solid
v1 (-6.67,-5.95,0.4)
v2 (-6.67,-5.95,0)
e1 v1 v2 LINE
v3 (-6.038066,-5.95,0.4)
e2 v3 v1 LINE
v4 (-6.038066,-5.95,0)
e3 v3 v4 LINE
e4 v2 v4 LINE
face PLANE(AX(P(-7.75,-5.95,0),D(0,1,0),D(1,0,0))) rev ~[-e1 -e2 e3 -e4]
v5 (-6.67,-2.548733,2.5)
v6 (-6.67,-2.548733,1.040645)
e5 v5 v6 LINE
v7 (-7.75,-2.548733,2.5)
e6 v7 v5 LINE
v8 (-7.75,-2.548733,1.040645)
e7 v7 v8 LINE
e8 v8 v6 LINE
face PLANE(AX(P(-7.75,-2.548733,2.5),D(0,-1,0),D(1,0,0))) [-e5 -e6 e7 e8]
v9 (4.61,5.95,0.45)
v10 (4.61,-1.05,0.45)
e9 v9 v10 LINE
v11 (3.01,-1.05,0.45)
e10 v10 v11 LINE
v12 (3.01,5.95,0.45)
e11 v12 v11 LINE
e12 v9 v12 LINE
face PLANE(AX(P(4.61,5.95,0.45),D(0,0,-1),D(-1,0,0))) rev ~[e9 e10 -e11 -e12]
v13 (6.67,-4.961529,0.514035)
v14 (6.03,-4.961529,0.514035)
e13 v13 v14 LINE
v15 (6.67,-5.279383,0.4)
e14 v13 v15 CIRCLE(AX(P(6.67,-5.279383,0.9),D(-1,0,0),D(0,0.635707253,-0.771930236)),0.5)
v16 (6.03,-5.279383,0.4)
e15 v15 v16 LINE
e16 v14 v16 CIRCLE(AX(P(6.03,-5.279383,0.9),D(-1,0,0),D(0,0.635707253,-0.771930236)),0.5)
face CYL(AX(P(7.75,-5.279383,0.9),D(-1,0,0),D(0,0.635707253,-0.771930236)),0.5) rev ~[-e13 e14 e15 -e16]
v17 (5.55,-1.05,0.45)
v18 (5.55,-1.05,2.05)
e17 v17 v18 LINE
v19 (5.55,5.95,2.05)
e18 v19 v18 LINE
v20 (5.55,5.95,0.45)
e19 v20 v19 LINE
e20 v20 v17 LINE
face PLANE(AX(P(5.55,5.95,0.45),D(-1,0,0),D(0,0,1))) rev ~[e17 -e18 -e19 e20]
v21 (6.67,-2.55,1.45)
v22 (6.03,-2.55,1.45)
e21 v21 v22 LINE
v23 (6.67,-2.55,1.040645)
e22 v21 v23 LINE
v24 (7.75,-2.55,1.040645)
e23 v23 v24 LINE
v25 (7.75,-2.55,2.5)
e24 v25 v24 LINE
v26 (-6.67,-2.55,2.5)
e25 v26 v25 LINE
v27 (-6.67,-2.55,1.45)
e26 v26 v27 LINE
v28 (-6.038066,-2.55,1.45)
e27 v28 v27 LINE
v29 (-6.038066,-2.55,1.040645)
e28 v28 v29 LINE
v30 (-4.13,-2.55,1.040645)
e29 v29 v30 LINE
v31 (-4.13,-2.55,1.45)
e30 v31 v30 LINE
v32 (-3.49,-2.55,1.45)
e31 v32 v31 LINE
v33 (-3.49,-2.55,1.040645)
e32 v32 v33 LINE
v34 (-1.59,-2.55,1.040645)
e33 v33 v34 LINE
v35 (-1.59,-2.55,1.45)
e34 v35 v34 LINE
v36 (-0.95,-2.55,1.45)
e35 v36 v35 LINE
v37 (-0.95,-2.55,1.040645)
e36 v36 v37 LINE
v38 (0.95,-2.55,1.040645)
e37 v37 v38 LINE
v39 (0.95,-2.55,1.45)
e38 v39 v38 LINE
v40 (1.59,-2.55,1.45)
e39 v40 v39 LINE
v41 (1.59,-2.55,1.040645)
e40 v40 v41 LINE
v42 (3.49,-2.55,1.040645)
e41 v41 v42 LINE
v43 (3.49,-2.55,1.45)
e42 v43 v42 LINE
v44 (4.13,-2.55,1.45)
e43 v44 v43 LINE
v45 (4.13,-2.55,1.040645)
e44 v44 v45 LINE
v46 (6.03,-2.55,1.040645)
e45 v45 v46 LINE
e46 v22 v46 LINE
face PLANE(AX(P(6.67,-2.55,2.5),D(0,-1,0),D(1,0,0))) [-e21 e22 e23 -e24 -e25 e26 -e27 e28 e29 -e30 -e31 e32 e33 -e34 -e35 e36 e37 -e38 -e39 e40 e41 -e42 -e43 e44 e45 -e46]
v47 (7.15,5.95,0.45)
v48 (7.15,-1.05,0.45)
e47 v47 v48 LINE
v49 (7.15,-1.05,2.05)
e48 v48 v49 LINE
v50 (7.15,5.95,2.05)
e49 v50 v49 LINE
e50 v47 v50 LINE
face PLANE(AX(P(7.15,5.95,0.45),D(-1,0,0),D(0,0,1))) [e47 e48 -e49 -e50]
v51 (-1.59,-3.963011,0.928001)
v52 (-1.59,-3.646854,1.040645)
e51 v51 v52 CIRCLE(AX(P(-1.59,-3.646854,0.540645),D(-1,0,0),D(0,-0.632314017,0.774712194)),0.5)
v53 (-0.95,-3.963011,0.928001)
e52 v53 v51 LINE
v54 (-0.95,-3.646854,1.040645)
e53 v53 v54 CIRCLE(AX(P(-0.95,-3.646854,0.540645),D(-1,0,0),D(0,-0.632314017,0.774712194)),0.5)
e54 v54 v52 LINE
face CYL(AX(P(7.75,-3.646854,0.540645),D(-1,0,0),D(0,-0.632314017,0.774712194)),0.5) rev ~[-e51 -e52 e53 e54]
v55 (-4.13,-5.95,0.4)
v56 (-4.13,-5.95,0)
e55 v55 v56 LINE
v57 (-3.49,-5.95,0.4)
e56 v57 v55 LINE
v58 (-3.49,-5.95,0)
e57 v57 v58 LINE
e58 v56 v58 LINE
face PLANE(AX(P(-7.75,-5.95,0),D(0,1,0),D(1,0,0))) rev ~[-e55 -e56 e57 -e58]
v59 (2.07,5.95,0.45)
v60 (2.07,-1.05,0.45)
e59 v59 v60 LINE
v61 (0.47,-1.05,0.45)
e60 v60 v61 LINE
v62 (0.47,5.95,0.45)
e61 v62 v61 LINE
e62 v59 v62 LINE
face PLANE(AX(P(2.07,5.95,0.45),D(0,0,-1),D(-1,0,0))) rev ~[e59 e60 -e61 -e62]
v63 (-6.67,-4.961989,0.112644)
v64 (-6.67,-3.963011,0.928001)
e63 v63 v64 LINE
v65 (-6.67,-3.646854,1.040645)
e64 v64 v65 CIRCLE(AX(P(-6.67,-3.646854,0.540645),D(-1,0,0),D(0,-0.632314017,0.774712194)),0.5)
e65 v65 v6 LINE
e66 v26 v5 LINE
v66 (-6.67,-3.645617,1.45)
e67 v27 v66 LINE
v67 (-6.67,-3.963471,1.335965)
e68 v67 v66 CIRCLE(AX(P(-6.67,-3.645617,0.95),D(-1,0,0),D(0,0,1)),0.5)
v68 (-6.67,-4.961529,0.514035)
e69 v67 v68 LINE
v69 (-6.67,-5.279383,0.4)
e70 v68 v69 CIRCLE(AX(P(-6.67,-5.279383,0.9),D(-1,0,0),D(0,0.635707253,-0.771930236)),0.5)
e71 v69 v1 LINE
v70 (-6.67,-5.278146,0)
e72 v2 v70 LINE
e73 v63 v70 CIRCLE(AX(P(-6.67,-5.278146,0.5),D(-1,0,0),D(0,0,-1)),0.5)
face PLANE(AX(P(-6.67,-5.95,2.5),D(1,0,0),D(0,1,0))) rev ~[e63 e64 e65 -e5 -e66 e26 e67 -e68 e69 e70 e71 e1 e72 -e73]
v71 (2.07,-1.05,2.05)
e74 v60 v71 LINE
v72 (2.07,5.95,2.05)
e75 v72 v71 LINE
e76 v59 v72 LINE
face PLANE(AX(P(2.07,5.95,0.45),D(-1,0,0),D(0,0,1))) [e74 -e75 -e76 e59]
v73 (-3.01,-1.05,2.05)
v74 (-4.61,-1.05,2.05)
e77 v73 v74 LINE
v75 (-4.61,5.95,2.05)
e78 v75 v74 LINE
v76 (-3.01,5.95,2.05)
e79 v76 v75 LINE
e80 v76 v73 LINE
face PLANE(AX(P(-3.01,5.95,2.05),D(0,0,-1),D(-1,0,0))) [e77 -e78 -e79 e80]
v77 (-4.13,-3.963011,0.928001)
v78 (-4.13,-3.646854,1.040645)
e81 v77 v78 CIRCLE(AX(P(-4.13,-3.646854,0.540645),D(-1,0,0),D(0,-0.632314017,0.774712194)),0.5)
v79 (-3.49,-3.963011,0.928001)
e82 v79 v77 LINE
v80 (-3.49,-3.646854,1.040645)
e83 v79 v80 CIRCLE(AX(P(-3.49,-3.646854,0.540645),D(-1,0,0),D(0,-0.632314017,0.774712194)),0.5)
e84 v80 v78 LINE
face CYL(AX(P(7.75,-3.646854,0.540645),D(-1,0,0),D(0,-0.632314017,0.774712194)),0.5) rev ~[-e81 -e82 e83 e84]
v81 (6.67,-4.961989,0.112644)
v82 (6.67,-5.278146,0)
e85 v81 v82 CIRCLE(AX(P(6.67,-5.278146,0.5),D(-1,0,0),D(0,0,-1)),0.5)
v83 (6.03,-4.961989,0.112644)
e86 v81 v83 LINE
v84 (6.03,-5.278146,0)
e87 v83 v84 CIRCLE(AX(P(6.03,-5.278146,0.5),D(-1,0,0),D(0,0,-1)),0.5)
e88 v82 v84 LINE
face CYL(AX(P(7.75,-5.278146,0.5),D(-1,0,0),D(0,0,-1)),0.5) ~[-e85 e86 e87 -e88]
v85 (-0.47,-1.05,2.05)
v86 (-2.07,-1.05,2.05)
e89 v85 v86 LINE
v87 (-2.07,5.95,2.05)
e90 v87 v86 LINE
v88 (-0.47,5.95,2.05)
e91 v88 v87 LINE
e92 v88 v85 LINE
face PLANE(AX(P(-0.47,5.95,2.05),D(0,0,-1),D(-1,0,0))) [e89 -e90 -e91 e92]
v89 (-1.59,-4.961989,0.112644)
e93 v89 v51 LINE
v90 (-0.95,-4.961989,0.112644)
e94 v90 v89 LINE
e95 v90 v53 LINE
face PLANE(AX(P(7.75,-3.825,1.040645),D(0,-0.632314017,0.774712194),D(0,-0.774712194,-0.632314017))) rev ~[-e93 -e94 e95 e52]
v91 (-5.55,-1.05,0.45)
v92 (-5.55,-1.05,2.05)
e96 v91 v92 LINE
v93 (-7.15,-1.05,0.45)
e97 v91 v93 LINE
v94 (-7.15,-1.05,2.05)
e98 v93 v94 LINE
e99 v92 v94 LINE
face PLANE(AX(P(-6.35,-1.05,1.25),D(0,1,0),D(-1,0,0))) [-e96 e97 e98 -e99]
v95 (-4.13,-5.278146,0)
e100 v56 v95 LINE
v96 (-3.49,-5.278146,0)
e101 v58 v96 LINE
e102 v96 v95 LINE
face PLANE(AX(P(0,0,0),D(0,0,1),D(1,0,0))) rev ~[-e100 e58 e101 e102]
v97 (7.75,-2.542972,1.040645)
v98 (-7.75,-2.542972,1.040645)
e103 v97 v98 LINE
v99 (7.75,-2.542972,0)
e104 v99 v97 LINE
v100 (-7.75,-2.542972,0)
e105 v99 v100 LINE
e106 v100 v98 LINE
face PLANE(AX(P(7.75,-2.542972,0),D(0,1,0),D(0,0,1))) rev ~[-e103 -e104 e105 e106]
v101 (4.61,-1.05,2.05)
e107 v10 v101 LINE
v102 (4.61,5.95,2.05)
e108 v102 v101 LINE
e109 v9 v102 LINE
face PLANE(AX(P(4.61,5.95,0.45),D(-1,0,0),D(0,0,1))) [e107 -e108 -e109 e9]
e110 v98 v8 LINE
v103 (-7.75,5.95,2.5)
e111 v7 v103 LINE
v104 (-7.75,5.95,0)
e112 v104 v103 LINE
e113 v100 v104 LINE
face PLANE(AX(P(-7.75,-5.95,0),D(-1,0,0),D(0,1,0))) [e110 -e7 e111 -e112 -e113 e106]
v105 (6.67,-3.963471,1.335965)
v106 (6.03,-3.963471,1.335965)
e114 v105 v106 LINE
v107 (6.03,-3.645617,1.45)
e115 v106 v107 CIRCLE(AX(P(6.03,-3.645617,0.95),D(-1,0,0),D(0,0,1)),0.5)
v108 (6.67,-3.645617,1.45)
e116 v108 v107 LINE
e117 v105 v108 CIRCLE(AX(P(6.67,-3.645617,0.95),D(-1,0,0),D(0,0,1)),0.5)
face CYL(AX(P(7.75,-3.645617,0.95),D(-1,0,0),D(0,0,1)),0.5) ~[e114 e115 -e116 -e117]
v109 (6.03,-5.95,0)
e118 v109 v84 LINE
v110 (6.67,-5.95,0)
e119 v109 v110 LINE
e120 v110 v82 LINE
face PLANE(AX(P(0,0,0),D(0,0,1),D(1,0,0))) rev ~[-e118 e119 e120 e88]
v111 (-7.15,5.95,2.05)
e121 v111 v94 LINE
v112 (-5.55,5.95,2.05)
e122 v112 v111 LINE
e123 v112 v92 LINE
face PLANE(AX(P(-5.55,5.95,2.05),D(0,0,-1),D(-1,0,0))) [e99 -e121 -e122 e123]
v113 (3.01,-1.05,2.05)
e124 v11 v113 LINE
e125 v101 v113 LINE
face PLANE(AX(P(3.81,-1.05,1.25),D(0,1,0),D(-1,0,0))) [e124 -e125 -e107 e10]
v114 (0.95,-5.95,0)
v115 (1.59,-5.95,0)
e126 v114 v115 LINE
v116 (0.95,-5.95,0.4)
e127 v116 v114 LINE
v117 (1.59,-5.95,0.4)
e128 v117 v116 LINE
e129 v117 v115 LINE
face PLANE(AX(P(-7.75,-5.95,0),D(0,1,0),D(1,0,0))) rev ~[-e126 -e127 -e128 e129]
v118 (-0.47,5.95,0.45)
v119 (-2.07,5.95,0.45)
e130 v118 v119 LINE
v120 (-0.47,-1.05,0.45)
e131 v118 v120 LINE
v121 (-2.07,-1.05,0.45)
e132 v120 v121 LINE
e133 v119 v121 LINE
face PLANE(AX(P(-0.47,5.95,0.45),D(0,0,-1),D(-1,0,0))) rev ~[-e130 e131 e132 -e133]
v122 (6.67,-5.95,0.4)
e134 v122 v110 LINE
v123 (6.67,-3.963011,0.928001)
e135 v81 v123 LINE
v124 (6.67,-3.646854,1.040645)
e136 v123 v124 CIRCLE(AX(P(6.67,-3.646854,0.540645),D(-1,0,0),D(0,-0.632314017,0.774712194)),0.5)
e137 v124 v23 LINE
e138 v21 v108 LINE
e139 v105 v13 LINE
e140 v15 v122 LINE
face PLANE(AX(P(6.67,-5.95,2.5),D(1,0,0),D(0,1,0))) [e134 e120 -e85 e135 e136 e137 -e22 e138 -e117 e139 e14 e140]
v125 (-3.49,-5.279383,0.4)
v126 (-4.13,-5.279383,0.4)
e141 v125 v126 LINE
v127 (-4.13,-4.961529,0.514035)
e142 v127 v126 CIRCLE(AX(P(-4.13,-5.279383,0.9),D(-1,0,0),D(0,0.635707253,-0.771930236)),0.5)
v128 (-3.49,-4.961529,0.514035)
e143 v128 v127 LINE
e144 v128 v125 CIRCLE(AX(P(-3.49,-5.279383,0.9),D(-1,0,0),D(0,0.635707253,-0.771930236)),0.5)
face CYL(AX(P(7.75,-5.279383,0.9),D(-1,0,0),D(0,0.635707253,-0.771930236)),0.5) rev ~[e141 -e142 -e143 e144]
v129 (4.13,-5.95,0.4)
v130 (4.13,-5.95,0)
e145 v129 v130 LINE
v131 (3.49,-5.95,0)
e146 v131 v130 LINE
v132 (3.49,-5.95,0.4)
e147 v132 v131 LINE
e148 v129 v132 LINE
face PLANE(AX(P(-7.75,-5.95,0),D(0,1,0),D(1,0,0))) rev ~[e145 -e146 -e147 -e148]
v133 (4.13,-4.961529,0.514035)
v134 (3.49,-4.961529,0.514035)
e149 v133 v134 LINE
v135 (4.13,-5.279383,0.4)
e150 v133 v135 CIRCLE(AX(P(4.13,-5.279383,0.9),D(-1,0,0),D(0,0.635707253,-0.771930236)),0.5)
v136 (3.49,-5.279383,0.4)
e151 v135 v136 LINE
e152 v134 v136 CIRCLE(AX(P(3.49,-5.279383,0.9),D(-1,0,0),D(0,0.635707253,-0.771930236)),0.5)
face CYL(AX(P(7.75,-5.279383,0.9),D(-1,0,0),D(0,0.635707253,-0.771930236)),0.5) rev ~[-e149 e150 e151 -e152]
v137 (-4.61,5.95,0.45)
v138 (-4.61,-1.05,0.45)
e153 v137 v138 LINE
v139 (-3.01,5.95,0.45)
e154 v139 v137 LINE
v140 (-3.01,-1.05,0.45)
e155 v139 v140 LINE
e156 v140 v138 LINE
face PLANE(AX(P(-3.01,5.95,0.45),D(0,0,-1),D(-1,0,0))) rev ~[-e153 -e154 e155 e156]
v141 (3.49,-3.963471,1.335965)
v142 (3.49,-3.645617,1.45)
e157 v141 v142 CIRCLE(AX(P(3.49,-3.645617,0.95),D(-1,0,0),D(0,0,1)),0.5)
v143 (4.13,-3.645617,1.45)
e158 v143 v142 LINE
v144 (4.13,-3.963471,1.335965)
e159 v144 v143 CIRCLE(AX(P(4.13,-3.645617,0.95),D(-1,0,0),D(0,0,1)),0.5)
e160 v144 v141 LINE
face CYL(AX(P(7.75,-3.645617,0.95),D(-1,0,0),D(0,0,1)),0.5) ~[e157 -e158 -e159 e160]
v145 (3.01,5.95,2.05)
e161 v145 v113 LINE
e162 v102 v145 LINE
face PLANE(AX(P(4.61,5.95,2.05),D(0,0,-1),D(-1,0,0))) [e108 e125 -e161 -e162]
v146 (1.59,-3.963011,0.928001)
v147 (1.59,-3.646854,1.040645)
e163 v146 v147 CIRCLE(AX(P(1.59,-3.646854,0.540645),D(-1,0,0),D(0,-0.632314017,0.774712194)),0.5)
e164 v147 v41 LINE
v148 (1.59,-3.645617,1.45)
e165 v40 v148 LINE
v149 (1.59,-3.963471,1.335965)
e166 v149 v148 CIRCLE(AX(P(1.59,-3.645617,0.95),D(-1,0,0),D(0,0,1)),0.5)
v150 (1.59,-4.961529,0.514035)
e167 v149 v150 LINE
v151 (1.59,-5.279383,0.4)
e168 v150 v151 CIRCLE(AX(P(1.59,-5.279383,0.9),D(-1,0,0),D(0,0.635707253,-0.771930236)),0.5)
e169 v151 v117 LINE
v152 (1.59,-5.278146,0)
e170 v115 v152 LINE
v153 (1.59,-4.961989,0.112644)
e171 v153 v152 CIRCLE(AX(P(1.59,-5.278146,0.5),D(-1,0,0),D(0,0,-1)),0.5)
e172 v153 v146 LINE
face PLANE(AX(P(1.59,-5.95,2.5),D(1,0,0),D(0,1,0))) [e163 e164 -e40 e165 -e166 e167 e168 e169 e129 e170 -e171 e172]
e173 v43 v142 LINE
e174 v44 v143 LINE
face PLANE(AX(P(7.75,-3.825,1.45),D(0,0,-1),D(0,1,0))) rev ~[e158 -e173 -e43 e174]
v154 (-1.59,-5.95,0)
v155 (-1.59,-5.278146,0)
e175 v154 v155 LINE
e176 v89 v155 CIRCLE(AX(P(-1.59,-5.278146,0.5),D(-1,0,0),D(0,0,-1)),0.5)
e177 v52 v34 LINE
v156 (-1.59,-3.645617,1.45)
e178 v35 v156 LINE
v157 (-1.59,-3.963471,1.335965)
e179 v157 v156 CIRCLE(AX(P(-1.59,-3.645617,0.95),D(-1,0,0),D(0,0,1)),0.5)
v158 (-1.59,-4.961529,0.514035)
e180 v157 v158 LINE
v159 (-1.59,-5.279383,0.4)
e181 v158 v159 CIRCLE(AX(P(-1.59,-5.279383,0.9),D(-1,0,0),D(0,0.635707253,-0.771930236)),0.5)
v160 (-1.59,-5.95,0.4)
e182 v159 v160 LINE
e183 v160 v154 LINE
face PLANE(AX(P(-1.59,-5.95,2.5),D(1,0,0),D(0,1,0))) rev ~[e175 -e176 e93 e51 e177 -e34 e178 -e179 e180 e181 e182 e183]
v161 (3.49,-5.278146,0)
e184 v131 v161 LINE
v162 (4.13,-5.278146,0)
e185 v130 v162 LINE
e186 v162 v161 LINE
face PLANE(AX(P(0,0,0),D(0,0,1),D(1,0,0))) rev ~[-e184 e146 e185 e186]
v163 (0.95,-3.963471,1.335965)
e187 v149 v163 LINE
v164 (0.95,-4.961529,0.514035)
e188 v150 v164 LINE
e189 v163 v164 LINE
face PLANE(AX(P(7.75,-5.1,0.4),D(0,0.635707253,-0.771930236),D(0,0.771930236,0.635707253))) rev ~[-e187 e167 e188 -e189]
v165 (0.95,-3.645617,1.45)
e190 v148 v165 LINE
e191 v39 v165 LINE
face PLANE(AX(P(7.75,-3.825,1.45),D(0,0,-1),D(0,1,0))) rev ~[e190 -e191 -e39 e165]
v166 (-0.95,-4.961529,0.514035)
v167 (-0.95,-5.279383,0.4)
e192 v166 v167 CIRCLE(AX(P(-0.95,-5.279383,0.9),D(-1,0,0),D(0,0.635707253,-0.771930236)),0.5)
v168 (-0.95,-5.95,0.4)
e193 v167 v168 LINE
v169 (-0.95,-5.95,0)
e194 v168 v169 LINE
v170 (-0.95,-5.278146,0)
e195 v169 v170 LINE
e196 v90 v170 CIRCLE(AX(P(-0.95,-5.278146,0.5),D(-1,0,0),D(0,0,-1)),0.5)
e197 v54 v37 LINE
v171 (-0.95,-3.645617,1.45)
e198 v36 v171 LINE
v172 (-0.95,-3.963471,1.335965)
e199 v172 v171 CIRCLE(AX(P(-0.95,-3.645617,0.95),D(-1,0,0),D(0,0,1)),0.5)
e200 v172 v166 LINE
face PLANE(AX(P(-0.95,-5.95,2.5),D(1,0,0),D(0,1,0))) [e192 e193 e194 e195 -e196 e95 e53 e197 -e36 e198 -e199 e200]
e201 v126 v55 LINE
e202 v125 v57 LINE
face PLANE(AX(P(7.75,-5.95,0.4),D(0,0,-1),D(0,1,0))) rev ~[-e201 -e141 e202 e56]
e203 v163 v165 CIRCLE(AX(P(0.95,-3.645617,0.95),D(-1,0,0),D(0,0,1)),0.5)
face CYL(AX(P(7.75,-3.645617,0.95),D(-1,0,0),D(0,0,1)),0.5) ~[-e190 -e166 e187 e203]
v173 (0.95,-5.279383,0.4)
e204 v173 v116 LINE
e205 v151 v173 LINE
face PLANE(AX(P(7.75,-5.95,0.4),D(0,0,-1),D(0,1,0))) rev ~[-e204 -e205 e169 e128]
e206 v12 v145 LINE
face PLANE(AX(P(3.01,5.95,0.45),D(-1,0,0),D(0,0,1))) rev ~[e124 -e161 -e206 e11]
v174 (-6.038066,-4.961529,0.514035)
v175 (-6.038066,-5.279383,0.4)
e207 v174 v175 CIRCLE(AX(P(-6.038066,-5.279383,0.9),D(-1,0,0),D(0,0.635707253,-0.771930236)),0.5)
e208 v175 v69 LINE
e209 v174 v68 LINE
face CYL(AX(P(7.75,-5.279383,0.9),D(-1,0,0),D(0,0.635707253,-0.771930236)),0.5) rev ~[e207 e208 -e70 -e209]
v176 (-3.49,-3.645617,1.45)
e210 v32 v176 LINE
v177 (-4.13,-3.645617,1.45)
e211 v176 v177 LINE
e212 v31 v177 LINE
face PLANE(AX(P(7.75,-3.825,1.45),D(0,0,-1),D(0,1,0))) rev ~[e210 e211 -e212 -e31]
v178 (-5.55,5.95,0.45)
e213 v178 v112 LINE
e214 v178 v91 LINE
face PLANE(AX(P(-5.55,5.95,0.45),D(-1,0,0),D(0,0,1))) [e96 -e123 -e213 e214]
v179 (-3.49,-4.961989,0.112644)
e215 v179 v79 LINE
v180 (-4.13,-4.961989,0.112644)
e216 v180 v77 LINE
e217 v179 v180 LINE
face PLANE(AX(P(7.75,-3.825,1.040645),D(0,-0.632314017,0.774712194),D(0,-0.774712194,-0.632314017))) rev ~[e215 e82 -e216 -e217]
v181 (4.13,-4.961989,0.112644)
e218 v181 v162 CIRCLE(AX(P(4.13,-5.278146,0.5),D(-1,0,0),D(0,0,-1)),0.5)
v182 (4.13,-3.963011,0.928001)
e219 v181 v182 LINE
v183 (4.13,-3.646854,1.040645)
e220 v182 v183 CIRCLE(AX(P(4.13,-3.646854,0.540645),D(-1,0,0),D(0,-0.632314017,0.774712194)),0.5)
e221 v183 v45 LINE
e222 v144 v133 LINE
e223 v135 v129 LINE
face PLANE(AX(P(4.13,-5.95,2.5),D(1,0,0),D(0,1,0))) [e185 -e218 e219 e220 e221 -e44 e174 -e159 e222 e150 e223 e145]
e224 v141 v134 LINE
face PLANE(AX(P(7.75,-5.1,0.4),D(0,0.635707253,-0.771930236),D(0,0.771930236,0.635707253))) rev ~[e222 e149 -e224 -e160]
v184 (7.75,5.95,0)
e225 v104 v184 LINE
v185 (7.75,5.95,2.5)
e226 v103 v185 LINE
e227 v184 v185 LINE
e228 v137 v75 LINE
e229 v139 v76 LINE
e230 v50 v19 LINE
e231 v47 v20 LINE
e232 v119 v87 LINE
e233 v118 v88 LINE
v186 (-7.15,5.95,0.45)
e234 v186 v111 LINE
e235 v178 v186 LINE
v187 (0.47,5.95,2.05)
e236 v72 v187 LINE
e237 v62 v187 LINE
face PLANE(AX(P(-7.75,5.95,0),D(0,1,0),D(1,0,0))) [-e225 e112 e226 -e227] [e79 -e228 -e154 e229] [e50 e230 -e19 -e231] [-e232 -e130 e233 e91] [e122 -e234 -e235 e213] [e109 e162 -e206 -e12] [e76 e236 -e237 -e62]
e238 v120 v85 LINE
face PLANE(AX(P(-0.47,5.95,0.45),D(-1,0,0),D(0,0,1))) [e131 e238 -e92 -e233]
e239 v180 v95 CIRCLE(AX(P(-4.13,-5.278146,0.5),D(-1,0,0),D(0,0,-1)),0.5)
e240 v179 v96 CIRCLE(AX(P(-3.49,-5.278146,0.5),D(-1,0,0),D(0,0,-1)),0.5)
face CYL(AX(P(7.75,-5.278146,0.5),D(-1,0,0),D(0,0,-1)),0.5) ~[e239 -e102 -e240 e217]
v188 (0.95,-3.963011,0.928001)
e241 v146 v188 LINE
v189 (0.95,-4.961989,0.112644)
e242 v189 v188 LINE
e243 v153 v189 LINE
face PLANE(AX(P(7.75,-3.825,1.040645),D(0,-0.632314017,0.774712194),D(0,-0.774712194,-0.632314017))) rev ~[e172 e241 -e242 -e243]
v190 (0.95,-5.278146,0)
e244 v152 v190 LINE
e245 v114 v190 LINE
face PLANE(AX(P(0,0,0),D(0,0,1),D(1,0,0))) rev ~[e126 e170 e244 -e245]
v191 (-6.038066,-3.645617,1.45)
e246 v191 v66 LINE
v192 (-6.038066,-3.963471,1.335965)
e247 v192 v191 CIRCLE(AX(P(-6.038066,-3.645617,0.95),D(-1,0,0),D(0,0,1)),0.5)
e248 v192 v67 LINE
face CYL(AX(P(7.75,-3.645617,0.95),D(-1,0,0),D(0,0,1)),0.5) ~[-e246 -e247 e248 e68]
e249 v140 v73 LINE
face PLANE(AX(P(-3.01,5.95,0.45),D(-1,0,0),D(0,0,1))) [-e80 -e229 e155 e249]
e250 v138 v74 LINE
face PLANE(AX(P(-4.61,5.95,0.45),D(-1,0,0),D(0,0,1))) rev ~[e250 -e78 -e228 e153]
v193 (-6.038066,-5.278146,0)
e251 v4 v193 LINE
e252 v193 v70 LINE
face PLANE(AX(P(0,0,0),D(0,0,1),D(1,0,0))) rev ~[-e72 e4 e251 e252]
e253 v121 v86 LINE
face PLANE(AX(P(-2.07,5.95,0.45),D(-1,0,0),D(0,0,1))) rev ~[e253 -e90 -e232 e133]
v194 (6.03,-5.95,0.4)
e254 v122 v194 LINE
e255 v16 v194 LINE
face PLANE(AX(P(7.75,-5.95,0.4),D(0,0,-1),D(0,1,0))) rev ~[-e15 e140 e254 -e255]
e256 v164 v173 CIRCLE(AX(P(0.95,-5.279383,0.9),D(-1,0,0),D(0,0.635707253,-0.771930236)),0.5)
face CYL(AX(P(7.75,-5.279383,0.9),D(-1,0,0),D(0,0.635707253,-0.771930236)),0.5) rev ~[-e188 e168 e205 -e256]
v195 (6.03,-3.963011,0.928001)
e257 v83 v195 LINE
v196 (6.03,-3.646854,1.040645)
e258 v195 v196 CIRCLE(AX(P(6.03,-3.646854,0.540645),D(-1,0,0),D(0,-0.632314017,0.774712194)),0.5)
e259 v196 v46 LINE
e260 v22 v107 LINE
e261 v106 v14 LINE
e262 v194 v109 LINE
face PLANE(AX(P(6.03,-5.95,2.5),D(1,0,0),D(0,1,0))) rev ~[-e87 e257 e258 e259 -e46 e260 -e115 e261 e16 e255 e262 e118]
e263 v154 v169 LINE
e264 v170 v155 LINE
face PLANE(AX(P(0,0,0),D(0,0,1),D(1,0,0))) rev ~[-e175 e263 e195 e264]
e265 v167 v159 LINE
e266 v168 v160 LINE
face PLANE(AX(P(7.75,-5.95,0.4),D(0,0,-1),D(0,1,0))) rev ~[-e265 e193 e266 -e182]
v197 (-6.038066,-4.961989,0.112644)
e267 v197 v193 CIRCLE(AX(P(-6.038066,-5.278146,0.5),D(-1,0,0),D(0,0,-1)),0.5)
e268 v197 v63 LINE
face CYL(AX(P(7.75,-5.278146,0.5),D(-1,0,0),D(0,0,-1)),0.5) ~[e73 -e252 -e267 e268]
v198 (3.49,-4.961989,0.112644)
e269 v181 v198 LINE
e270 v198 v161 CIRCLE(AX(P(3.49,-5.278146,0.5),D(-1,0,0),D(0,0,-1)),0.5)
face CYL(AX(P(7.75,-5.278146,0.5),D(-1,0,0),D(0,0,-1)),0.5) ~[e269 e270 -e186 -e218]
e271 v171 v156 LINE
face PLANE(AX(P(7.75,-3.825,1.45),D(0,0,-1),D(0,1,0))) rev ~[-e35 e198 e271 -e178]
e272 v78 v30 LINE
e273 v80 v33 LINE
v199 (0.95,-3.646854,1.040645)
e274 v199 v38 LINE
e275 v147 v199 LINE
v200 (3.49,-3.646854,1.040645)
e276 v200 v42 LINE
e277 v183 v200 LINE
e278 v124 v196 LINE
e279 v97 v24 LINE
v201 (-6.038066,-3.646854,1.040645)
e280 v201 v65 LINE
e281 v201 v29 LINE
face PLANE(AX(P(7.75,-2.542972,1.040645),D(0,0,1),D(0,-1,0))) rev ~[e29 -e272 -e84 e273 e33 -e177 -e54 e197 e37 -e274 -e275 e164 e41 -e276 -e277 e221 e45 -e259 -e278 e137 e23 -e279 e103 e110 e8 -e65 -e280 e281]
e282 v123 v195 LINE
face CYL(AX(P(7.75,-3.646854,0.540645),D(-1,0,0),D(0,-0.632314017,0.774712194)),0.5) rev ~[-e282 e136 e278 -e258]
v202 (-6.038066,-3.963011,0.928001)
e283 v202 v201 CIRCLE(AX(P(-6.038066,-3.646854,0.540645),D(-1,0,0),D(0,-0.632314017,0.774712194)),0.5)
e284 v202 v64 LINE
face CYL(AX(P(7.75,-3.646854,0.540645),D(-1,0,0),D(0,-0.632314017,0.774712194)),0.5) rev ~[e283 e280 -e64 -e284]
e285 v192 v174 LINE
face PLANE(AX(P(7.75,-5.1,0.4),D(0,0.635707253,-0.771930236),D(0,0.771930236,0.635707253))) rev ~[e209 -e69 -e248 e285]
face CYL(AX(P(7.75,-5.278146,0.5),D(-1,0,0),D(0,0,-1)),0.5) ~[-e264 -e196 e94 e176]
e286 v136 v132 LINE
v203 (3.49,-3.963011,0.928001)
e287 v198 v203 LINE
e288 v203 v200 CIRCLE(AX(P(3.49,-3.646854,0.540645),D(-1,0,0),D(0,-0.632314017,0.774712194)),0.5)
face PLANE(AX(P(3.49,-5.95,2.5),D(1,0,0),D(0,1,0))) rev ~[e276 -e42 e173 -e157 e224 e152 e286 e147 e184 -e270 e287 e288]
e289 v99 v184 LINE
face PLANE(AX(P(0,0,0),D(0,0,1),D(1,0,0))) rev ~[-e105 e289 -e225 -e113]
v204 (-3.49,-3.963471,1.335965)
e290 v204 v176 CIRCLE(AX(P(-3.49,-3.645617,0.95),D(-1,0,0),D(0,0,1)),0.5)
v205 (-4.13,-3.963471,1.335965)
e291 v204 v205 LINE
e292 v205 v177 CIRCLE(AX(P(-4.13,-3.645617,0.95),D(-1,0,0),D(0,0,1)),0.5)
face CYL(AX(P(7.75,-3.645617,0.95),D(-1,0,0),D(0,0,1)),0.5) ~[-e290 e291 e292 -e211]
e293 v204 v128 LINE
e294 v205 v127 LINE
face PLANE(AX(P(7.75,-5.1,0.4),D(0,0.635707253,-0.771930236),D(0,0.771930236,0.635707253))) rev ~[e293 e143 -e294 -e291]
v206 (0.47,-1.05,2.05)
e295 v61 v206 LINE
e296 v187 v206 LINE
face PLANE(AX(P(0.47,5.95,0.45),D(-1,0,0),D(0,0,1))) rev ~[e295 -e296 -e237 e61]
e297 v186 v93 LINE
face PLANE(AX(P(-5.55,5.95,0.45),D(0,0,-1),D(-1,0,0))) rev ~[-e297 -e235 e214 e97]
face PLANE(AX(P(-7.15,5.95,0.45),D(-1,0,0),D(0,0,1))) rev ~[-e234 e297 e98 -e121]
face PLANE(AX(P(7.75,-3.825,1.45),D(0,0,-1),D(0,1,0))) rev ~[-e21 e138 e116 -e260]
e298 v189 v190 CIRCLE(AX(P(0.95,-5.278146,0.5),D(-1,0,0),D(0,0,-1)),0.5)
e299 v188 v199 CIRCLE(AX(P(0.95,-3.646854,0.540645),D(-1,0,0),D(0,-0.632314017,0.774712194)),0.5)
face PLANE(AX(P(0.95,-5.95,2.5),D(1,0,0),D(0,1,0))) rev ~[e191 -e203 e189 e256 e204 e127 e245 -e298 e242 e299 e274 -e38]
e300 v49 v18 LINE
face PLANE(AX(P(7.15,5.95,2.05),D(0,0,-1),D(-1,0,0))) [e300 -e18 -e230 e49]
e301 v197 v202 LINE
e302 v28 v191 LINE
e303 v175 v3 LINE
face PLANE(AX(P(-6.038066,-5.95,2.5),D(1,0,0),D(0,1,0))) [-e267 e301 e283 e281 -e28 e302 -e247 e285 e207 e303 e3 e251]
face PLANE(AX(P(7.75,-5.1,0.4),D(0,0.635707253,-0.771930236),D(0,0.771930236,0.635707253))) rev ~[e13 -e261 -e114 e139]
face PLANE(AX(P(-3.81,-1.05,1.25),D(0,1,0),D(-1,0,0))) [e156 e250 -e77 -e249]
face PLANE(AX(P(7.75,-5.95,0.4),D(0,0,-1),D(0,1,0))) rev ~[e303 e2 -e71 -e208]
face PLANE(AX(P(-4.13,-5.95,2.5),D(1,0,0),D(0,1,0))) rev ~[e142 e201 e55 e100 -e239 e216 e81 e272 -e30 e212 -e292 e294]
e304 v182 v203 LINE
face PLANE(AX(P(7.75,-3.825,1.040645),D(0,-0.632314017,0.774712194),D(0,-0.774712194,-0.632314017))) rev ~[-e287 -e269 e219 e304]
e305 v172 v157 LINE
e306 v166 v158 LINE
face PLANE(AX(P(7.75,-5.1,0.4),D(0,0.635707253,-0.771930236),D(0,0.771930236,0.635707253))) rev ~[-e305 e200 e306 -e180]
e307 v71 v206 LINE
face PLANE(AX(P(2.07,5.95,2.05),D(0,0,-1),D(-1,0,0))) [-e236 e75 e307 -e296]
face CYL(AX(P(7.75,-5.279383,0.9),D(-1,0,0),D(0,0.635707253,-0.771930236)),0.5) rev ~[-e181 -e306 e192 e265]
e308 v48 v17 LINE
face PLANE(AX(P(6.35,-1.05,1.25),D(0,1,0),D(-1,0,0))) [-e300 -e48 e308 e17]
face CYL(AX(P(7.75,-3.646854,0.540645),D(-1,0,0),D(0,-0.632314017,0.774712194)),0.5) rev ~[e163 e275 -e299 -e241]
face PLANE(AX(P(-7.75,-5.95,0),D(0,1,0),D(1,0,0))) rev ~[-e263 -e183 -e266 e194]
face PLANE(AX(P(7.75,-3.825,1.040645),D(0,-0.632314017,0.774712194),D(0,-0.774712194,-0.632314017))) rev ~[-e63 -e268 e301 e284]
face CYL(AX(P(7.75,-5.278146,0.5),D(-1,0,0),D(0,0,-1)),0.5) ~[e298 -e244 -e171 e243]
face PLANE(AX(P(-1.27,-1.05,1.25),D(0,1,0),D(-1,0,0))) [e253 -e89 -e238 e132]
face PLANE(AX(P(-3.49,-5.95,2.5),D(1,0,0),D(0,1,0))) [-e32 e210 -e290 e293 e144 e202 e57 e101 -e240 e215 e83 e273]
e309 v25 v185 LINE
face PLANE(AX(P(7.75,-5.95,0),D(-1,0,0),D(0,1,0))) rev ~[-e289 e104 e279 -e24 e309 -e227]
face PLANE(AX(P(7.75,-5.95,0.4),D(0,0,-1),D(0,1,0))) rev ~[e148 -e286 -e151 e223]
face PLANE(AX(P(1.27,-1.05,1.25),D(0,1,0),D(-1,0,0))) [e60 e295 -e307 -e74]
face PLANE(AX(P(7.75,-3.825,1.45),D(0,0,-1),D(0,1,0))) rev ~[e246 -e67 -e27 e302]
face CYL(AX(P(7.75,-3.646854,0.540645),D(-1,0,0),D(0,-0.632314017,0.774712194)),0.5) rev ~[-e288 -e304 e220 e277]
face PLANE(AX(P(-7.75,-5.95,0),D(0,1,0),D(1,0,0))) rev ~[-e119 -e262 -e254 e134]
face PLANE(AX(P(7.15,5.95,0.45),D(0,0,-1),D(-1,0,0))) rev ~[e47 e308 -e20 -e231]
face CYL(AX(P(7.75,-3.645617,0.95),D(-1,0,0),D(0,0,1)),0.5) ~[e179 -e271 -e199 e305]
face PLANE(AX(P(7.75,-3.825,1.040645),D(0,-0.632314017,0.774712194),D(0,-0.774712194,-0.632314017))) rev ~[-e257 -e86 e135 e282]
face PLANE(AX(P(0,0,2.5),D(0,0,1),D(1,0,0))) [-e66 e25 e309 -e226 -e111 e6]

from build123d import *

# Parameters (mm, degrees)
SKETCH003_AS_DRAWN_W                      = 1.6
SKETCH003_AS_DRAWN_H                      = 1.6
EXTRUDE003_DEPTH                          = 7
EXTRUDE003_ONTO_SKETCH003_ROLL_ANGLE      = 90.0000000001
EXTRUDE003_ONTO_SKETCH003_PLACEMENT_ANGLE = 180
SKETCH002_W                               = 1.9
SKETCH002_H                               = 3.4
SKETCH002_W_2                             = 1.908066
SKETCH002_W_3                             = 1.08
SKETCH002_H_2                             = 3.401267
EXTRUDE002_DEPTH                          = 2.5
EXTRUDE001_DEPTH                          = 15.5
SKETCH_W                                  = 15.5
SKETCH_H                                  = 11.9
EXTRUDE_DEPTH                             = 2.5
FILLET_R                                  = 0.5


with BuildPart() as extrude003:
    # Sketch003 as drawn → Extrude003 (new)
    with BuildSketch(Plane.XY):
        with Locations((-1.27, 1.25)):
            Rectangle(SKETCH003_AS_DRAWN_W, SKETCH003_AS_DRAWN_H)
        with Locations((1.27, 1.25)):
            Rectangle(SKETCH003_AS_DRAWN_W, SKETCH003_AS_DRAWN_H)
        with Locations((3.81, 1.25)):
            Rectangle(SKETCH003_AS_DRAWN_W, SKETCH003_AS_DRAWN_H)
        with Locations((6.35, 1.25)):
            Rectangle(SKETCH003_AS_DRAWN_W, SKETCH003_AS_DRAWN_H)
        with Locations((-3.81, 1.25)):
            Rectangle(SKETCH003_AS_DRAWN_W, SKETCH003_AS_DRAWN_H)
        with Locations((-6.35, 1.25)):
            Rectangle(SKETCH003_AS_DRAWN_W, SKETCH003_AS_DRAWN_H)
    extrude(amount=-EXTRUDE003_DEPTH)


with BuildPart() as extrude003_1:
    # Extrude003 onto Sketch003 roll: moved
    add(extrude003.part.rotate(Axis((0, 0, 0), (1, 0, 0)), EXTRUDE003_ONTO_SKETCH003_ROLL_ANGLE))


with BuildPart() as extrude003_2:
    # Extrude003 onto Sketch003 placement: moved
    add(extrude003_1.part.moved(Location((0, 5.95, 0))).rotate(Axis((0, 5.95, 0), (0, 0, 1)), EXTRUDE003_ONTO_SKETCH003_PLACEMENT_ANGLE))


with BuildPart() as extrude002:
    # Sketch002 (on Face17 of Fillet) → Extrude002 (new body)
    with BuildSketch(Plane.XY.offset(2.5)):
        with Locations((-2.54, -4.25)):
            Rectangle(SKETCH002_W, SKETCH002_H)
        with Locations((0, -4.25)):
            Rectangle(SKETCH002_W, SKETCH002_H)
        with Locations((-5.084033, -4.25)):
            Rectangle(SKETCH002_W_2, SKETCH002_H)
        with Locations((5.08, -4.25)):
            Rectangle(SKETCH002_W, SKETCH002_H)
        with Locations((2.54, -4.25)):
            Rectangle(SKETCH002_W, SKETCH002_H)
        with Locations((-7.21, -4.2493665)):
            Rectangle(SKETCH002_W_3, SKETCH002_H_2)
        with Locations((7.21, -4.25)):
            Rectangle(SKETCH002_W_3, SKETCH002_H)
    extrude(amount=-EXTRUDE002_DEPTH)


with BuildPart() as extrude001:
    # Sketch001 (on Face2 of Extrude) → Extrude001 (new body)
    with BuildSketch(Plane.YZ.offset(7.75)):
        Polygon((-2.55, 2.5), (-5.95, 2.5), (-5.95, 0.4), (-5.1, 0.4), (-3.825, 1.45), (-2.55, 1.45), align=None)
        Polygon((-2.542972, 1.040645), (-3.825, 1.040645), (-5.1, 0), (-2.542972, 0), align=None)
    extrude(amount=-EXTRUDE001_DEPTH)


with BuildPart() as cut002:
    # Sketch → Extrude (new body)
    with BuildSketch(Plane.XY):
        Rectangle(SKETCH_W, SKETCH_H)
    extrude(amount=EXTRUDE_DEPTH)

    # Cut: cut Extrude001
    add(extrude001.part, mode=Mode.SUBTRACT)

    # Fillet
    fillet_edges = [cut002.edges().sort_by_distance(p)[0] for p in [
        (0, -5.1, 0),
        (0, -3.825, 1.040645),
        (0, -3.825, 1.45),
        (0, -5.1, 0.4),
    ]]
    fillet(fillet_edges, radius=FILLET_R)

    # Cut001: cut Extrude002
    add(extrude002.part, mode=Mode.SUBTRACT)

    # Cut002: cut Extrude003
    add(extrude003_2.part, mode=Mode.SUBTRACT)


solid = cut002.part
